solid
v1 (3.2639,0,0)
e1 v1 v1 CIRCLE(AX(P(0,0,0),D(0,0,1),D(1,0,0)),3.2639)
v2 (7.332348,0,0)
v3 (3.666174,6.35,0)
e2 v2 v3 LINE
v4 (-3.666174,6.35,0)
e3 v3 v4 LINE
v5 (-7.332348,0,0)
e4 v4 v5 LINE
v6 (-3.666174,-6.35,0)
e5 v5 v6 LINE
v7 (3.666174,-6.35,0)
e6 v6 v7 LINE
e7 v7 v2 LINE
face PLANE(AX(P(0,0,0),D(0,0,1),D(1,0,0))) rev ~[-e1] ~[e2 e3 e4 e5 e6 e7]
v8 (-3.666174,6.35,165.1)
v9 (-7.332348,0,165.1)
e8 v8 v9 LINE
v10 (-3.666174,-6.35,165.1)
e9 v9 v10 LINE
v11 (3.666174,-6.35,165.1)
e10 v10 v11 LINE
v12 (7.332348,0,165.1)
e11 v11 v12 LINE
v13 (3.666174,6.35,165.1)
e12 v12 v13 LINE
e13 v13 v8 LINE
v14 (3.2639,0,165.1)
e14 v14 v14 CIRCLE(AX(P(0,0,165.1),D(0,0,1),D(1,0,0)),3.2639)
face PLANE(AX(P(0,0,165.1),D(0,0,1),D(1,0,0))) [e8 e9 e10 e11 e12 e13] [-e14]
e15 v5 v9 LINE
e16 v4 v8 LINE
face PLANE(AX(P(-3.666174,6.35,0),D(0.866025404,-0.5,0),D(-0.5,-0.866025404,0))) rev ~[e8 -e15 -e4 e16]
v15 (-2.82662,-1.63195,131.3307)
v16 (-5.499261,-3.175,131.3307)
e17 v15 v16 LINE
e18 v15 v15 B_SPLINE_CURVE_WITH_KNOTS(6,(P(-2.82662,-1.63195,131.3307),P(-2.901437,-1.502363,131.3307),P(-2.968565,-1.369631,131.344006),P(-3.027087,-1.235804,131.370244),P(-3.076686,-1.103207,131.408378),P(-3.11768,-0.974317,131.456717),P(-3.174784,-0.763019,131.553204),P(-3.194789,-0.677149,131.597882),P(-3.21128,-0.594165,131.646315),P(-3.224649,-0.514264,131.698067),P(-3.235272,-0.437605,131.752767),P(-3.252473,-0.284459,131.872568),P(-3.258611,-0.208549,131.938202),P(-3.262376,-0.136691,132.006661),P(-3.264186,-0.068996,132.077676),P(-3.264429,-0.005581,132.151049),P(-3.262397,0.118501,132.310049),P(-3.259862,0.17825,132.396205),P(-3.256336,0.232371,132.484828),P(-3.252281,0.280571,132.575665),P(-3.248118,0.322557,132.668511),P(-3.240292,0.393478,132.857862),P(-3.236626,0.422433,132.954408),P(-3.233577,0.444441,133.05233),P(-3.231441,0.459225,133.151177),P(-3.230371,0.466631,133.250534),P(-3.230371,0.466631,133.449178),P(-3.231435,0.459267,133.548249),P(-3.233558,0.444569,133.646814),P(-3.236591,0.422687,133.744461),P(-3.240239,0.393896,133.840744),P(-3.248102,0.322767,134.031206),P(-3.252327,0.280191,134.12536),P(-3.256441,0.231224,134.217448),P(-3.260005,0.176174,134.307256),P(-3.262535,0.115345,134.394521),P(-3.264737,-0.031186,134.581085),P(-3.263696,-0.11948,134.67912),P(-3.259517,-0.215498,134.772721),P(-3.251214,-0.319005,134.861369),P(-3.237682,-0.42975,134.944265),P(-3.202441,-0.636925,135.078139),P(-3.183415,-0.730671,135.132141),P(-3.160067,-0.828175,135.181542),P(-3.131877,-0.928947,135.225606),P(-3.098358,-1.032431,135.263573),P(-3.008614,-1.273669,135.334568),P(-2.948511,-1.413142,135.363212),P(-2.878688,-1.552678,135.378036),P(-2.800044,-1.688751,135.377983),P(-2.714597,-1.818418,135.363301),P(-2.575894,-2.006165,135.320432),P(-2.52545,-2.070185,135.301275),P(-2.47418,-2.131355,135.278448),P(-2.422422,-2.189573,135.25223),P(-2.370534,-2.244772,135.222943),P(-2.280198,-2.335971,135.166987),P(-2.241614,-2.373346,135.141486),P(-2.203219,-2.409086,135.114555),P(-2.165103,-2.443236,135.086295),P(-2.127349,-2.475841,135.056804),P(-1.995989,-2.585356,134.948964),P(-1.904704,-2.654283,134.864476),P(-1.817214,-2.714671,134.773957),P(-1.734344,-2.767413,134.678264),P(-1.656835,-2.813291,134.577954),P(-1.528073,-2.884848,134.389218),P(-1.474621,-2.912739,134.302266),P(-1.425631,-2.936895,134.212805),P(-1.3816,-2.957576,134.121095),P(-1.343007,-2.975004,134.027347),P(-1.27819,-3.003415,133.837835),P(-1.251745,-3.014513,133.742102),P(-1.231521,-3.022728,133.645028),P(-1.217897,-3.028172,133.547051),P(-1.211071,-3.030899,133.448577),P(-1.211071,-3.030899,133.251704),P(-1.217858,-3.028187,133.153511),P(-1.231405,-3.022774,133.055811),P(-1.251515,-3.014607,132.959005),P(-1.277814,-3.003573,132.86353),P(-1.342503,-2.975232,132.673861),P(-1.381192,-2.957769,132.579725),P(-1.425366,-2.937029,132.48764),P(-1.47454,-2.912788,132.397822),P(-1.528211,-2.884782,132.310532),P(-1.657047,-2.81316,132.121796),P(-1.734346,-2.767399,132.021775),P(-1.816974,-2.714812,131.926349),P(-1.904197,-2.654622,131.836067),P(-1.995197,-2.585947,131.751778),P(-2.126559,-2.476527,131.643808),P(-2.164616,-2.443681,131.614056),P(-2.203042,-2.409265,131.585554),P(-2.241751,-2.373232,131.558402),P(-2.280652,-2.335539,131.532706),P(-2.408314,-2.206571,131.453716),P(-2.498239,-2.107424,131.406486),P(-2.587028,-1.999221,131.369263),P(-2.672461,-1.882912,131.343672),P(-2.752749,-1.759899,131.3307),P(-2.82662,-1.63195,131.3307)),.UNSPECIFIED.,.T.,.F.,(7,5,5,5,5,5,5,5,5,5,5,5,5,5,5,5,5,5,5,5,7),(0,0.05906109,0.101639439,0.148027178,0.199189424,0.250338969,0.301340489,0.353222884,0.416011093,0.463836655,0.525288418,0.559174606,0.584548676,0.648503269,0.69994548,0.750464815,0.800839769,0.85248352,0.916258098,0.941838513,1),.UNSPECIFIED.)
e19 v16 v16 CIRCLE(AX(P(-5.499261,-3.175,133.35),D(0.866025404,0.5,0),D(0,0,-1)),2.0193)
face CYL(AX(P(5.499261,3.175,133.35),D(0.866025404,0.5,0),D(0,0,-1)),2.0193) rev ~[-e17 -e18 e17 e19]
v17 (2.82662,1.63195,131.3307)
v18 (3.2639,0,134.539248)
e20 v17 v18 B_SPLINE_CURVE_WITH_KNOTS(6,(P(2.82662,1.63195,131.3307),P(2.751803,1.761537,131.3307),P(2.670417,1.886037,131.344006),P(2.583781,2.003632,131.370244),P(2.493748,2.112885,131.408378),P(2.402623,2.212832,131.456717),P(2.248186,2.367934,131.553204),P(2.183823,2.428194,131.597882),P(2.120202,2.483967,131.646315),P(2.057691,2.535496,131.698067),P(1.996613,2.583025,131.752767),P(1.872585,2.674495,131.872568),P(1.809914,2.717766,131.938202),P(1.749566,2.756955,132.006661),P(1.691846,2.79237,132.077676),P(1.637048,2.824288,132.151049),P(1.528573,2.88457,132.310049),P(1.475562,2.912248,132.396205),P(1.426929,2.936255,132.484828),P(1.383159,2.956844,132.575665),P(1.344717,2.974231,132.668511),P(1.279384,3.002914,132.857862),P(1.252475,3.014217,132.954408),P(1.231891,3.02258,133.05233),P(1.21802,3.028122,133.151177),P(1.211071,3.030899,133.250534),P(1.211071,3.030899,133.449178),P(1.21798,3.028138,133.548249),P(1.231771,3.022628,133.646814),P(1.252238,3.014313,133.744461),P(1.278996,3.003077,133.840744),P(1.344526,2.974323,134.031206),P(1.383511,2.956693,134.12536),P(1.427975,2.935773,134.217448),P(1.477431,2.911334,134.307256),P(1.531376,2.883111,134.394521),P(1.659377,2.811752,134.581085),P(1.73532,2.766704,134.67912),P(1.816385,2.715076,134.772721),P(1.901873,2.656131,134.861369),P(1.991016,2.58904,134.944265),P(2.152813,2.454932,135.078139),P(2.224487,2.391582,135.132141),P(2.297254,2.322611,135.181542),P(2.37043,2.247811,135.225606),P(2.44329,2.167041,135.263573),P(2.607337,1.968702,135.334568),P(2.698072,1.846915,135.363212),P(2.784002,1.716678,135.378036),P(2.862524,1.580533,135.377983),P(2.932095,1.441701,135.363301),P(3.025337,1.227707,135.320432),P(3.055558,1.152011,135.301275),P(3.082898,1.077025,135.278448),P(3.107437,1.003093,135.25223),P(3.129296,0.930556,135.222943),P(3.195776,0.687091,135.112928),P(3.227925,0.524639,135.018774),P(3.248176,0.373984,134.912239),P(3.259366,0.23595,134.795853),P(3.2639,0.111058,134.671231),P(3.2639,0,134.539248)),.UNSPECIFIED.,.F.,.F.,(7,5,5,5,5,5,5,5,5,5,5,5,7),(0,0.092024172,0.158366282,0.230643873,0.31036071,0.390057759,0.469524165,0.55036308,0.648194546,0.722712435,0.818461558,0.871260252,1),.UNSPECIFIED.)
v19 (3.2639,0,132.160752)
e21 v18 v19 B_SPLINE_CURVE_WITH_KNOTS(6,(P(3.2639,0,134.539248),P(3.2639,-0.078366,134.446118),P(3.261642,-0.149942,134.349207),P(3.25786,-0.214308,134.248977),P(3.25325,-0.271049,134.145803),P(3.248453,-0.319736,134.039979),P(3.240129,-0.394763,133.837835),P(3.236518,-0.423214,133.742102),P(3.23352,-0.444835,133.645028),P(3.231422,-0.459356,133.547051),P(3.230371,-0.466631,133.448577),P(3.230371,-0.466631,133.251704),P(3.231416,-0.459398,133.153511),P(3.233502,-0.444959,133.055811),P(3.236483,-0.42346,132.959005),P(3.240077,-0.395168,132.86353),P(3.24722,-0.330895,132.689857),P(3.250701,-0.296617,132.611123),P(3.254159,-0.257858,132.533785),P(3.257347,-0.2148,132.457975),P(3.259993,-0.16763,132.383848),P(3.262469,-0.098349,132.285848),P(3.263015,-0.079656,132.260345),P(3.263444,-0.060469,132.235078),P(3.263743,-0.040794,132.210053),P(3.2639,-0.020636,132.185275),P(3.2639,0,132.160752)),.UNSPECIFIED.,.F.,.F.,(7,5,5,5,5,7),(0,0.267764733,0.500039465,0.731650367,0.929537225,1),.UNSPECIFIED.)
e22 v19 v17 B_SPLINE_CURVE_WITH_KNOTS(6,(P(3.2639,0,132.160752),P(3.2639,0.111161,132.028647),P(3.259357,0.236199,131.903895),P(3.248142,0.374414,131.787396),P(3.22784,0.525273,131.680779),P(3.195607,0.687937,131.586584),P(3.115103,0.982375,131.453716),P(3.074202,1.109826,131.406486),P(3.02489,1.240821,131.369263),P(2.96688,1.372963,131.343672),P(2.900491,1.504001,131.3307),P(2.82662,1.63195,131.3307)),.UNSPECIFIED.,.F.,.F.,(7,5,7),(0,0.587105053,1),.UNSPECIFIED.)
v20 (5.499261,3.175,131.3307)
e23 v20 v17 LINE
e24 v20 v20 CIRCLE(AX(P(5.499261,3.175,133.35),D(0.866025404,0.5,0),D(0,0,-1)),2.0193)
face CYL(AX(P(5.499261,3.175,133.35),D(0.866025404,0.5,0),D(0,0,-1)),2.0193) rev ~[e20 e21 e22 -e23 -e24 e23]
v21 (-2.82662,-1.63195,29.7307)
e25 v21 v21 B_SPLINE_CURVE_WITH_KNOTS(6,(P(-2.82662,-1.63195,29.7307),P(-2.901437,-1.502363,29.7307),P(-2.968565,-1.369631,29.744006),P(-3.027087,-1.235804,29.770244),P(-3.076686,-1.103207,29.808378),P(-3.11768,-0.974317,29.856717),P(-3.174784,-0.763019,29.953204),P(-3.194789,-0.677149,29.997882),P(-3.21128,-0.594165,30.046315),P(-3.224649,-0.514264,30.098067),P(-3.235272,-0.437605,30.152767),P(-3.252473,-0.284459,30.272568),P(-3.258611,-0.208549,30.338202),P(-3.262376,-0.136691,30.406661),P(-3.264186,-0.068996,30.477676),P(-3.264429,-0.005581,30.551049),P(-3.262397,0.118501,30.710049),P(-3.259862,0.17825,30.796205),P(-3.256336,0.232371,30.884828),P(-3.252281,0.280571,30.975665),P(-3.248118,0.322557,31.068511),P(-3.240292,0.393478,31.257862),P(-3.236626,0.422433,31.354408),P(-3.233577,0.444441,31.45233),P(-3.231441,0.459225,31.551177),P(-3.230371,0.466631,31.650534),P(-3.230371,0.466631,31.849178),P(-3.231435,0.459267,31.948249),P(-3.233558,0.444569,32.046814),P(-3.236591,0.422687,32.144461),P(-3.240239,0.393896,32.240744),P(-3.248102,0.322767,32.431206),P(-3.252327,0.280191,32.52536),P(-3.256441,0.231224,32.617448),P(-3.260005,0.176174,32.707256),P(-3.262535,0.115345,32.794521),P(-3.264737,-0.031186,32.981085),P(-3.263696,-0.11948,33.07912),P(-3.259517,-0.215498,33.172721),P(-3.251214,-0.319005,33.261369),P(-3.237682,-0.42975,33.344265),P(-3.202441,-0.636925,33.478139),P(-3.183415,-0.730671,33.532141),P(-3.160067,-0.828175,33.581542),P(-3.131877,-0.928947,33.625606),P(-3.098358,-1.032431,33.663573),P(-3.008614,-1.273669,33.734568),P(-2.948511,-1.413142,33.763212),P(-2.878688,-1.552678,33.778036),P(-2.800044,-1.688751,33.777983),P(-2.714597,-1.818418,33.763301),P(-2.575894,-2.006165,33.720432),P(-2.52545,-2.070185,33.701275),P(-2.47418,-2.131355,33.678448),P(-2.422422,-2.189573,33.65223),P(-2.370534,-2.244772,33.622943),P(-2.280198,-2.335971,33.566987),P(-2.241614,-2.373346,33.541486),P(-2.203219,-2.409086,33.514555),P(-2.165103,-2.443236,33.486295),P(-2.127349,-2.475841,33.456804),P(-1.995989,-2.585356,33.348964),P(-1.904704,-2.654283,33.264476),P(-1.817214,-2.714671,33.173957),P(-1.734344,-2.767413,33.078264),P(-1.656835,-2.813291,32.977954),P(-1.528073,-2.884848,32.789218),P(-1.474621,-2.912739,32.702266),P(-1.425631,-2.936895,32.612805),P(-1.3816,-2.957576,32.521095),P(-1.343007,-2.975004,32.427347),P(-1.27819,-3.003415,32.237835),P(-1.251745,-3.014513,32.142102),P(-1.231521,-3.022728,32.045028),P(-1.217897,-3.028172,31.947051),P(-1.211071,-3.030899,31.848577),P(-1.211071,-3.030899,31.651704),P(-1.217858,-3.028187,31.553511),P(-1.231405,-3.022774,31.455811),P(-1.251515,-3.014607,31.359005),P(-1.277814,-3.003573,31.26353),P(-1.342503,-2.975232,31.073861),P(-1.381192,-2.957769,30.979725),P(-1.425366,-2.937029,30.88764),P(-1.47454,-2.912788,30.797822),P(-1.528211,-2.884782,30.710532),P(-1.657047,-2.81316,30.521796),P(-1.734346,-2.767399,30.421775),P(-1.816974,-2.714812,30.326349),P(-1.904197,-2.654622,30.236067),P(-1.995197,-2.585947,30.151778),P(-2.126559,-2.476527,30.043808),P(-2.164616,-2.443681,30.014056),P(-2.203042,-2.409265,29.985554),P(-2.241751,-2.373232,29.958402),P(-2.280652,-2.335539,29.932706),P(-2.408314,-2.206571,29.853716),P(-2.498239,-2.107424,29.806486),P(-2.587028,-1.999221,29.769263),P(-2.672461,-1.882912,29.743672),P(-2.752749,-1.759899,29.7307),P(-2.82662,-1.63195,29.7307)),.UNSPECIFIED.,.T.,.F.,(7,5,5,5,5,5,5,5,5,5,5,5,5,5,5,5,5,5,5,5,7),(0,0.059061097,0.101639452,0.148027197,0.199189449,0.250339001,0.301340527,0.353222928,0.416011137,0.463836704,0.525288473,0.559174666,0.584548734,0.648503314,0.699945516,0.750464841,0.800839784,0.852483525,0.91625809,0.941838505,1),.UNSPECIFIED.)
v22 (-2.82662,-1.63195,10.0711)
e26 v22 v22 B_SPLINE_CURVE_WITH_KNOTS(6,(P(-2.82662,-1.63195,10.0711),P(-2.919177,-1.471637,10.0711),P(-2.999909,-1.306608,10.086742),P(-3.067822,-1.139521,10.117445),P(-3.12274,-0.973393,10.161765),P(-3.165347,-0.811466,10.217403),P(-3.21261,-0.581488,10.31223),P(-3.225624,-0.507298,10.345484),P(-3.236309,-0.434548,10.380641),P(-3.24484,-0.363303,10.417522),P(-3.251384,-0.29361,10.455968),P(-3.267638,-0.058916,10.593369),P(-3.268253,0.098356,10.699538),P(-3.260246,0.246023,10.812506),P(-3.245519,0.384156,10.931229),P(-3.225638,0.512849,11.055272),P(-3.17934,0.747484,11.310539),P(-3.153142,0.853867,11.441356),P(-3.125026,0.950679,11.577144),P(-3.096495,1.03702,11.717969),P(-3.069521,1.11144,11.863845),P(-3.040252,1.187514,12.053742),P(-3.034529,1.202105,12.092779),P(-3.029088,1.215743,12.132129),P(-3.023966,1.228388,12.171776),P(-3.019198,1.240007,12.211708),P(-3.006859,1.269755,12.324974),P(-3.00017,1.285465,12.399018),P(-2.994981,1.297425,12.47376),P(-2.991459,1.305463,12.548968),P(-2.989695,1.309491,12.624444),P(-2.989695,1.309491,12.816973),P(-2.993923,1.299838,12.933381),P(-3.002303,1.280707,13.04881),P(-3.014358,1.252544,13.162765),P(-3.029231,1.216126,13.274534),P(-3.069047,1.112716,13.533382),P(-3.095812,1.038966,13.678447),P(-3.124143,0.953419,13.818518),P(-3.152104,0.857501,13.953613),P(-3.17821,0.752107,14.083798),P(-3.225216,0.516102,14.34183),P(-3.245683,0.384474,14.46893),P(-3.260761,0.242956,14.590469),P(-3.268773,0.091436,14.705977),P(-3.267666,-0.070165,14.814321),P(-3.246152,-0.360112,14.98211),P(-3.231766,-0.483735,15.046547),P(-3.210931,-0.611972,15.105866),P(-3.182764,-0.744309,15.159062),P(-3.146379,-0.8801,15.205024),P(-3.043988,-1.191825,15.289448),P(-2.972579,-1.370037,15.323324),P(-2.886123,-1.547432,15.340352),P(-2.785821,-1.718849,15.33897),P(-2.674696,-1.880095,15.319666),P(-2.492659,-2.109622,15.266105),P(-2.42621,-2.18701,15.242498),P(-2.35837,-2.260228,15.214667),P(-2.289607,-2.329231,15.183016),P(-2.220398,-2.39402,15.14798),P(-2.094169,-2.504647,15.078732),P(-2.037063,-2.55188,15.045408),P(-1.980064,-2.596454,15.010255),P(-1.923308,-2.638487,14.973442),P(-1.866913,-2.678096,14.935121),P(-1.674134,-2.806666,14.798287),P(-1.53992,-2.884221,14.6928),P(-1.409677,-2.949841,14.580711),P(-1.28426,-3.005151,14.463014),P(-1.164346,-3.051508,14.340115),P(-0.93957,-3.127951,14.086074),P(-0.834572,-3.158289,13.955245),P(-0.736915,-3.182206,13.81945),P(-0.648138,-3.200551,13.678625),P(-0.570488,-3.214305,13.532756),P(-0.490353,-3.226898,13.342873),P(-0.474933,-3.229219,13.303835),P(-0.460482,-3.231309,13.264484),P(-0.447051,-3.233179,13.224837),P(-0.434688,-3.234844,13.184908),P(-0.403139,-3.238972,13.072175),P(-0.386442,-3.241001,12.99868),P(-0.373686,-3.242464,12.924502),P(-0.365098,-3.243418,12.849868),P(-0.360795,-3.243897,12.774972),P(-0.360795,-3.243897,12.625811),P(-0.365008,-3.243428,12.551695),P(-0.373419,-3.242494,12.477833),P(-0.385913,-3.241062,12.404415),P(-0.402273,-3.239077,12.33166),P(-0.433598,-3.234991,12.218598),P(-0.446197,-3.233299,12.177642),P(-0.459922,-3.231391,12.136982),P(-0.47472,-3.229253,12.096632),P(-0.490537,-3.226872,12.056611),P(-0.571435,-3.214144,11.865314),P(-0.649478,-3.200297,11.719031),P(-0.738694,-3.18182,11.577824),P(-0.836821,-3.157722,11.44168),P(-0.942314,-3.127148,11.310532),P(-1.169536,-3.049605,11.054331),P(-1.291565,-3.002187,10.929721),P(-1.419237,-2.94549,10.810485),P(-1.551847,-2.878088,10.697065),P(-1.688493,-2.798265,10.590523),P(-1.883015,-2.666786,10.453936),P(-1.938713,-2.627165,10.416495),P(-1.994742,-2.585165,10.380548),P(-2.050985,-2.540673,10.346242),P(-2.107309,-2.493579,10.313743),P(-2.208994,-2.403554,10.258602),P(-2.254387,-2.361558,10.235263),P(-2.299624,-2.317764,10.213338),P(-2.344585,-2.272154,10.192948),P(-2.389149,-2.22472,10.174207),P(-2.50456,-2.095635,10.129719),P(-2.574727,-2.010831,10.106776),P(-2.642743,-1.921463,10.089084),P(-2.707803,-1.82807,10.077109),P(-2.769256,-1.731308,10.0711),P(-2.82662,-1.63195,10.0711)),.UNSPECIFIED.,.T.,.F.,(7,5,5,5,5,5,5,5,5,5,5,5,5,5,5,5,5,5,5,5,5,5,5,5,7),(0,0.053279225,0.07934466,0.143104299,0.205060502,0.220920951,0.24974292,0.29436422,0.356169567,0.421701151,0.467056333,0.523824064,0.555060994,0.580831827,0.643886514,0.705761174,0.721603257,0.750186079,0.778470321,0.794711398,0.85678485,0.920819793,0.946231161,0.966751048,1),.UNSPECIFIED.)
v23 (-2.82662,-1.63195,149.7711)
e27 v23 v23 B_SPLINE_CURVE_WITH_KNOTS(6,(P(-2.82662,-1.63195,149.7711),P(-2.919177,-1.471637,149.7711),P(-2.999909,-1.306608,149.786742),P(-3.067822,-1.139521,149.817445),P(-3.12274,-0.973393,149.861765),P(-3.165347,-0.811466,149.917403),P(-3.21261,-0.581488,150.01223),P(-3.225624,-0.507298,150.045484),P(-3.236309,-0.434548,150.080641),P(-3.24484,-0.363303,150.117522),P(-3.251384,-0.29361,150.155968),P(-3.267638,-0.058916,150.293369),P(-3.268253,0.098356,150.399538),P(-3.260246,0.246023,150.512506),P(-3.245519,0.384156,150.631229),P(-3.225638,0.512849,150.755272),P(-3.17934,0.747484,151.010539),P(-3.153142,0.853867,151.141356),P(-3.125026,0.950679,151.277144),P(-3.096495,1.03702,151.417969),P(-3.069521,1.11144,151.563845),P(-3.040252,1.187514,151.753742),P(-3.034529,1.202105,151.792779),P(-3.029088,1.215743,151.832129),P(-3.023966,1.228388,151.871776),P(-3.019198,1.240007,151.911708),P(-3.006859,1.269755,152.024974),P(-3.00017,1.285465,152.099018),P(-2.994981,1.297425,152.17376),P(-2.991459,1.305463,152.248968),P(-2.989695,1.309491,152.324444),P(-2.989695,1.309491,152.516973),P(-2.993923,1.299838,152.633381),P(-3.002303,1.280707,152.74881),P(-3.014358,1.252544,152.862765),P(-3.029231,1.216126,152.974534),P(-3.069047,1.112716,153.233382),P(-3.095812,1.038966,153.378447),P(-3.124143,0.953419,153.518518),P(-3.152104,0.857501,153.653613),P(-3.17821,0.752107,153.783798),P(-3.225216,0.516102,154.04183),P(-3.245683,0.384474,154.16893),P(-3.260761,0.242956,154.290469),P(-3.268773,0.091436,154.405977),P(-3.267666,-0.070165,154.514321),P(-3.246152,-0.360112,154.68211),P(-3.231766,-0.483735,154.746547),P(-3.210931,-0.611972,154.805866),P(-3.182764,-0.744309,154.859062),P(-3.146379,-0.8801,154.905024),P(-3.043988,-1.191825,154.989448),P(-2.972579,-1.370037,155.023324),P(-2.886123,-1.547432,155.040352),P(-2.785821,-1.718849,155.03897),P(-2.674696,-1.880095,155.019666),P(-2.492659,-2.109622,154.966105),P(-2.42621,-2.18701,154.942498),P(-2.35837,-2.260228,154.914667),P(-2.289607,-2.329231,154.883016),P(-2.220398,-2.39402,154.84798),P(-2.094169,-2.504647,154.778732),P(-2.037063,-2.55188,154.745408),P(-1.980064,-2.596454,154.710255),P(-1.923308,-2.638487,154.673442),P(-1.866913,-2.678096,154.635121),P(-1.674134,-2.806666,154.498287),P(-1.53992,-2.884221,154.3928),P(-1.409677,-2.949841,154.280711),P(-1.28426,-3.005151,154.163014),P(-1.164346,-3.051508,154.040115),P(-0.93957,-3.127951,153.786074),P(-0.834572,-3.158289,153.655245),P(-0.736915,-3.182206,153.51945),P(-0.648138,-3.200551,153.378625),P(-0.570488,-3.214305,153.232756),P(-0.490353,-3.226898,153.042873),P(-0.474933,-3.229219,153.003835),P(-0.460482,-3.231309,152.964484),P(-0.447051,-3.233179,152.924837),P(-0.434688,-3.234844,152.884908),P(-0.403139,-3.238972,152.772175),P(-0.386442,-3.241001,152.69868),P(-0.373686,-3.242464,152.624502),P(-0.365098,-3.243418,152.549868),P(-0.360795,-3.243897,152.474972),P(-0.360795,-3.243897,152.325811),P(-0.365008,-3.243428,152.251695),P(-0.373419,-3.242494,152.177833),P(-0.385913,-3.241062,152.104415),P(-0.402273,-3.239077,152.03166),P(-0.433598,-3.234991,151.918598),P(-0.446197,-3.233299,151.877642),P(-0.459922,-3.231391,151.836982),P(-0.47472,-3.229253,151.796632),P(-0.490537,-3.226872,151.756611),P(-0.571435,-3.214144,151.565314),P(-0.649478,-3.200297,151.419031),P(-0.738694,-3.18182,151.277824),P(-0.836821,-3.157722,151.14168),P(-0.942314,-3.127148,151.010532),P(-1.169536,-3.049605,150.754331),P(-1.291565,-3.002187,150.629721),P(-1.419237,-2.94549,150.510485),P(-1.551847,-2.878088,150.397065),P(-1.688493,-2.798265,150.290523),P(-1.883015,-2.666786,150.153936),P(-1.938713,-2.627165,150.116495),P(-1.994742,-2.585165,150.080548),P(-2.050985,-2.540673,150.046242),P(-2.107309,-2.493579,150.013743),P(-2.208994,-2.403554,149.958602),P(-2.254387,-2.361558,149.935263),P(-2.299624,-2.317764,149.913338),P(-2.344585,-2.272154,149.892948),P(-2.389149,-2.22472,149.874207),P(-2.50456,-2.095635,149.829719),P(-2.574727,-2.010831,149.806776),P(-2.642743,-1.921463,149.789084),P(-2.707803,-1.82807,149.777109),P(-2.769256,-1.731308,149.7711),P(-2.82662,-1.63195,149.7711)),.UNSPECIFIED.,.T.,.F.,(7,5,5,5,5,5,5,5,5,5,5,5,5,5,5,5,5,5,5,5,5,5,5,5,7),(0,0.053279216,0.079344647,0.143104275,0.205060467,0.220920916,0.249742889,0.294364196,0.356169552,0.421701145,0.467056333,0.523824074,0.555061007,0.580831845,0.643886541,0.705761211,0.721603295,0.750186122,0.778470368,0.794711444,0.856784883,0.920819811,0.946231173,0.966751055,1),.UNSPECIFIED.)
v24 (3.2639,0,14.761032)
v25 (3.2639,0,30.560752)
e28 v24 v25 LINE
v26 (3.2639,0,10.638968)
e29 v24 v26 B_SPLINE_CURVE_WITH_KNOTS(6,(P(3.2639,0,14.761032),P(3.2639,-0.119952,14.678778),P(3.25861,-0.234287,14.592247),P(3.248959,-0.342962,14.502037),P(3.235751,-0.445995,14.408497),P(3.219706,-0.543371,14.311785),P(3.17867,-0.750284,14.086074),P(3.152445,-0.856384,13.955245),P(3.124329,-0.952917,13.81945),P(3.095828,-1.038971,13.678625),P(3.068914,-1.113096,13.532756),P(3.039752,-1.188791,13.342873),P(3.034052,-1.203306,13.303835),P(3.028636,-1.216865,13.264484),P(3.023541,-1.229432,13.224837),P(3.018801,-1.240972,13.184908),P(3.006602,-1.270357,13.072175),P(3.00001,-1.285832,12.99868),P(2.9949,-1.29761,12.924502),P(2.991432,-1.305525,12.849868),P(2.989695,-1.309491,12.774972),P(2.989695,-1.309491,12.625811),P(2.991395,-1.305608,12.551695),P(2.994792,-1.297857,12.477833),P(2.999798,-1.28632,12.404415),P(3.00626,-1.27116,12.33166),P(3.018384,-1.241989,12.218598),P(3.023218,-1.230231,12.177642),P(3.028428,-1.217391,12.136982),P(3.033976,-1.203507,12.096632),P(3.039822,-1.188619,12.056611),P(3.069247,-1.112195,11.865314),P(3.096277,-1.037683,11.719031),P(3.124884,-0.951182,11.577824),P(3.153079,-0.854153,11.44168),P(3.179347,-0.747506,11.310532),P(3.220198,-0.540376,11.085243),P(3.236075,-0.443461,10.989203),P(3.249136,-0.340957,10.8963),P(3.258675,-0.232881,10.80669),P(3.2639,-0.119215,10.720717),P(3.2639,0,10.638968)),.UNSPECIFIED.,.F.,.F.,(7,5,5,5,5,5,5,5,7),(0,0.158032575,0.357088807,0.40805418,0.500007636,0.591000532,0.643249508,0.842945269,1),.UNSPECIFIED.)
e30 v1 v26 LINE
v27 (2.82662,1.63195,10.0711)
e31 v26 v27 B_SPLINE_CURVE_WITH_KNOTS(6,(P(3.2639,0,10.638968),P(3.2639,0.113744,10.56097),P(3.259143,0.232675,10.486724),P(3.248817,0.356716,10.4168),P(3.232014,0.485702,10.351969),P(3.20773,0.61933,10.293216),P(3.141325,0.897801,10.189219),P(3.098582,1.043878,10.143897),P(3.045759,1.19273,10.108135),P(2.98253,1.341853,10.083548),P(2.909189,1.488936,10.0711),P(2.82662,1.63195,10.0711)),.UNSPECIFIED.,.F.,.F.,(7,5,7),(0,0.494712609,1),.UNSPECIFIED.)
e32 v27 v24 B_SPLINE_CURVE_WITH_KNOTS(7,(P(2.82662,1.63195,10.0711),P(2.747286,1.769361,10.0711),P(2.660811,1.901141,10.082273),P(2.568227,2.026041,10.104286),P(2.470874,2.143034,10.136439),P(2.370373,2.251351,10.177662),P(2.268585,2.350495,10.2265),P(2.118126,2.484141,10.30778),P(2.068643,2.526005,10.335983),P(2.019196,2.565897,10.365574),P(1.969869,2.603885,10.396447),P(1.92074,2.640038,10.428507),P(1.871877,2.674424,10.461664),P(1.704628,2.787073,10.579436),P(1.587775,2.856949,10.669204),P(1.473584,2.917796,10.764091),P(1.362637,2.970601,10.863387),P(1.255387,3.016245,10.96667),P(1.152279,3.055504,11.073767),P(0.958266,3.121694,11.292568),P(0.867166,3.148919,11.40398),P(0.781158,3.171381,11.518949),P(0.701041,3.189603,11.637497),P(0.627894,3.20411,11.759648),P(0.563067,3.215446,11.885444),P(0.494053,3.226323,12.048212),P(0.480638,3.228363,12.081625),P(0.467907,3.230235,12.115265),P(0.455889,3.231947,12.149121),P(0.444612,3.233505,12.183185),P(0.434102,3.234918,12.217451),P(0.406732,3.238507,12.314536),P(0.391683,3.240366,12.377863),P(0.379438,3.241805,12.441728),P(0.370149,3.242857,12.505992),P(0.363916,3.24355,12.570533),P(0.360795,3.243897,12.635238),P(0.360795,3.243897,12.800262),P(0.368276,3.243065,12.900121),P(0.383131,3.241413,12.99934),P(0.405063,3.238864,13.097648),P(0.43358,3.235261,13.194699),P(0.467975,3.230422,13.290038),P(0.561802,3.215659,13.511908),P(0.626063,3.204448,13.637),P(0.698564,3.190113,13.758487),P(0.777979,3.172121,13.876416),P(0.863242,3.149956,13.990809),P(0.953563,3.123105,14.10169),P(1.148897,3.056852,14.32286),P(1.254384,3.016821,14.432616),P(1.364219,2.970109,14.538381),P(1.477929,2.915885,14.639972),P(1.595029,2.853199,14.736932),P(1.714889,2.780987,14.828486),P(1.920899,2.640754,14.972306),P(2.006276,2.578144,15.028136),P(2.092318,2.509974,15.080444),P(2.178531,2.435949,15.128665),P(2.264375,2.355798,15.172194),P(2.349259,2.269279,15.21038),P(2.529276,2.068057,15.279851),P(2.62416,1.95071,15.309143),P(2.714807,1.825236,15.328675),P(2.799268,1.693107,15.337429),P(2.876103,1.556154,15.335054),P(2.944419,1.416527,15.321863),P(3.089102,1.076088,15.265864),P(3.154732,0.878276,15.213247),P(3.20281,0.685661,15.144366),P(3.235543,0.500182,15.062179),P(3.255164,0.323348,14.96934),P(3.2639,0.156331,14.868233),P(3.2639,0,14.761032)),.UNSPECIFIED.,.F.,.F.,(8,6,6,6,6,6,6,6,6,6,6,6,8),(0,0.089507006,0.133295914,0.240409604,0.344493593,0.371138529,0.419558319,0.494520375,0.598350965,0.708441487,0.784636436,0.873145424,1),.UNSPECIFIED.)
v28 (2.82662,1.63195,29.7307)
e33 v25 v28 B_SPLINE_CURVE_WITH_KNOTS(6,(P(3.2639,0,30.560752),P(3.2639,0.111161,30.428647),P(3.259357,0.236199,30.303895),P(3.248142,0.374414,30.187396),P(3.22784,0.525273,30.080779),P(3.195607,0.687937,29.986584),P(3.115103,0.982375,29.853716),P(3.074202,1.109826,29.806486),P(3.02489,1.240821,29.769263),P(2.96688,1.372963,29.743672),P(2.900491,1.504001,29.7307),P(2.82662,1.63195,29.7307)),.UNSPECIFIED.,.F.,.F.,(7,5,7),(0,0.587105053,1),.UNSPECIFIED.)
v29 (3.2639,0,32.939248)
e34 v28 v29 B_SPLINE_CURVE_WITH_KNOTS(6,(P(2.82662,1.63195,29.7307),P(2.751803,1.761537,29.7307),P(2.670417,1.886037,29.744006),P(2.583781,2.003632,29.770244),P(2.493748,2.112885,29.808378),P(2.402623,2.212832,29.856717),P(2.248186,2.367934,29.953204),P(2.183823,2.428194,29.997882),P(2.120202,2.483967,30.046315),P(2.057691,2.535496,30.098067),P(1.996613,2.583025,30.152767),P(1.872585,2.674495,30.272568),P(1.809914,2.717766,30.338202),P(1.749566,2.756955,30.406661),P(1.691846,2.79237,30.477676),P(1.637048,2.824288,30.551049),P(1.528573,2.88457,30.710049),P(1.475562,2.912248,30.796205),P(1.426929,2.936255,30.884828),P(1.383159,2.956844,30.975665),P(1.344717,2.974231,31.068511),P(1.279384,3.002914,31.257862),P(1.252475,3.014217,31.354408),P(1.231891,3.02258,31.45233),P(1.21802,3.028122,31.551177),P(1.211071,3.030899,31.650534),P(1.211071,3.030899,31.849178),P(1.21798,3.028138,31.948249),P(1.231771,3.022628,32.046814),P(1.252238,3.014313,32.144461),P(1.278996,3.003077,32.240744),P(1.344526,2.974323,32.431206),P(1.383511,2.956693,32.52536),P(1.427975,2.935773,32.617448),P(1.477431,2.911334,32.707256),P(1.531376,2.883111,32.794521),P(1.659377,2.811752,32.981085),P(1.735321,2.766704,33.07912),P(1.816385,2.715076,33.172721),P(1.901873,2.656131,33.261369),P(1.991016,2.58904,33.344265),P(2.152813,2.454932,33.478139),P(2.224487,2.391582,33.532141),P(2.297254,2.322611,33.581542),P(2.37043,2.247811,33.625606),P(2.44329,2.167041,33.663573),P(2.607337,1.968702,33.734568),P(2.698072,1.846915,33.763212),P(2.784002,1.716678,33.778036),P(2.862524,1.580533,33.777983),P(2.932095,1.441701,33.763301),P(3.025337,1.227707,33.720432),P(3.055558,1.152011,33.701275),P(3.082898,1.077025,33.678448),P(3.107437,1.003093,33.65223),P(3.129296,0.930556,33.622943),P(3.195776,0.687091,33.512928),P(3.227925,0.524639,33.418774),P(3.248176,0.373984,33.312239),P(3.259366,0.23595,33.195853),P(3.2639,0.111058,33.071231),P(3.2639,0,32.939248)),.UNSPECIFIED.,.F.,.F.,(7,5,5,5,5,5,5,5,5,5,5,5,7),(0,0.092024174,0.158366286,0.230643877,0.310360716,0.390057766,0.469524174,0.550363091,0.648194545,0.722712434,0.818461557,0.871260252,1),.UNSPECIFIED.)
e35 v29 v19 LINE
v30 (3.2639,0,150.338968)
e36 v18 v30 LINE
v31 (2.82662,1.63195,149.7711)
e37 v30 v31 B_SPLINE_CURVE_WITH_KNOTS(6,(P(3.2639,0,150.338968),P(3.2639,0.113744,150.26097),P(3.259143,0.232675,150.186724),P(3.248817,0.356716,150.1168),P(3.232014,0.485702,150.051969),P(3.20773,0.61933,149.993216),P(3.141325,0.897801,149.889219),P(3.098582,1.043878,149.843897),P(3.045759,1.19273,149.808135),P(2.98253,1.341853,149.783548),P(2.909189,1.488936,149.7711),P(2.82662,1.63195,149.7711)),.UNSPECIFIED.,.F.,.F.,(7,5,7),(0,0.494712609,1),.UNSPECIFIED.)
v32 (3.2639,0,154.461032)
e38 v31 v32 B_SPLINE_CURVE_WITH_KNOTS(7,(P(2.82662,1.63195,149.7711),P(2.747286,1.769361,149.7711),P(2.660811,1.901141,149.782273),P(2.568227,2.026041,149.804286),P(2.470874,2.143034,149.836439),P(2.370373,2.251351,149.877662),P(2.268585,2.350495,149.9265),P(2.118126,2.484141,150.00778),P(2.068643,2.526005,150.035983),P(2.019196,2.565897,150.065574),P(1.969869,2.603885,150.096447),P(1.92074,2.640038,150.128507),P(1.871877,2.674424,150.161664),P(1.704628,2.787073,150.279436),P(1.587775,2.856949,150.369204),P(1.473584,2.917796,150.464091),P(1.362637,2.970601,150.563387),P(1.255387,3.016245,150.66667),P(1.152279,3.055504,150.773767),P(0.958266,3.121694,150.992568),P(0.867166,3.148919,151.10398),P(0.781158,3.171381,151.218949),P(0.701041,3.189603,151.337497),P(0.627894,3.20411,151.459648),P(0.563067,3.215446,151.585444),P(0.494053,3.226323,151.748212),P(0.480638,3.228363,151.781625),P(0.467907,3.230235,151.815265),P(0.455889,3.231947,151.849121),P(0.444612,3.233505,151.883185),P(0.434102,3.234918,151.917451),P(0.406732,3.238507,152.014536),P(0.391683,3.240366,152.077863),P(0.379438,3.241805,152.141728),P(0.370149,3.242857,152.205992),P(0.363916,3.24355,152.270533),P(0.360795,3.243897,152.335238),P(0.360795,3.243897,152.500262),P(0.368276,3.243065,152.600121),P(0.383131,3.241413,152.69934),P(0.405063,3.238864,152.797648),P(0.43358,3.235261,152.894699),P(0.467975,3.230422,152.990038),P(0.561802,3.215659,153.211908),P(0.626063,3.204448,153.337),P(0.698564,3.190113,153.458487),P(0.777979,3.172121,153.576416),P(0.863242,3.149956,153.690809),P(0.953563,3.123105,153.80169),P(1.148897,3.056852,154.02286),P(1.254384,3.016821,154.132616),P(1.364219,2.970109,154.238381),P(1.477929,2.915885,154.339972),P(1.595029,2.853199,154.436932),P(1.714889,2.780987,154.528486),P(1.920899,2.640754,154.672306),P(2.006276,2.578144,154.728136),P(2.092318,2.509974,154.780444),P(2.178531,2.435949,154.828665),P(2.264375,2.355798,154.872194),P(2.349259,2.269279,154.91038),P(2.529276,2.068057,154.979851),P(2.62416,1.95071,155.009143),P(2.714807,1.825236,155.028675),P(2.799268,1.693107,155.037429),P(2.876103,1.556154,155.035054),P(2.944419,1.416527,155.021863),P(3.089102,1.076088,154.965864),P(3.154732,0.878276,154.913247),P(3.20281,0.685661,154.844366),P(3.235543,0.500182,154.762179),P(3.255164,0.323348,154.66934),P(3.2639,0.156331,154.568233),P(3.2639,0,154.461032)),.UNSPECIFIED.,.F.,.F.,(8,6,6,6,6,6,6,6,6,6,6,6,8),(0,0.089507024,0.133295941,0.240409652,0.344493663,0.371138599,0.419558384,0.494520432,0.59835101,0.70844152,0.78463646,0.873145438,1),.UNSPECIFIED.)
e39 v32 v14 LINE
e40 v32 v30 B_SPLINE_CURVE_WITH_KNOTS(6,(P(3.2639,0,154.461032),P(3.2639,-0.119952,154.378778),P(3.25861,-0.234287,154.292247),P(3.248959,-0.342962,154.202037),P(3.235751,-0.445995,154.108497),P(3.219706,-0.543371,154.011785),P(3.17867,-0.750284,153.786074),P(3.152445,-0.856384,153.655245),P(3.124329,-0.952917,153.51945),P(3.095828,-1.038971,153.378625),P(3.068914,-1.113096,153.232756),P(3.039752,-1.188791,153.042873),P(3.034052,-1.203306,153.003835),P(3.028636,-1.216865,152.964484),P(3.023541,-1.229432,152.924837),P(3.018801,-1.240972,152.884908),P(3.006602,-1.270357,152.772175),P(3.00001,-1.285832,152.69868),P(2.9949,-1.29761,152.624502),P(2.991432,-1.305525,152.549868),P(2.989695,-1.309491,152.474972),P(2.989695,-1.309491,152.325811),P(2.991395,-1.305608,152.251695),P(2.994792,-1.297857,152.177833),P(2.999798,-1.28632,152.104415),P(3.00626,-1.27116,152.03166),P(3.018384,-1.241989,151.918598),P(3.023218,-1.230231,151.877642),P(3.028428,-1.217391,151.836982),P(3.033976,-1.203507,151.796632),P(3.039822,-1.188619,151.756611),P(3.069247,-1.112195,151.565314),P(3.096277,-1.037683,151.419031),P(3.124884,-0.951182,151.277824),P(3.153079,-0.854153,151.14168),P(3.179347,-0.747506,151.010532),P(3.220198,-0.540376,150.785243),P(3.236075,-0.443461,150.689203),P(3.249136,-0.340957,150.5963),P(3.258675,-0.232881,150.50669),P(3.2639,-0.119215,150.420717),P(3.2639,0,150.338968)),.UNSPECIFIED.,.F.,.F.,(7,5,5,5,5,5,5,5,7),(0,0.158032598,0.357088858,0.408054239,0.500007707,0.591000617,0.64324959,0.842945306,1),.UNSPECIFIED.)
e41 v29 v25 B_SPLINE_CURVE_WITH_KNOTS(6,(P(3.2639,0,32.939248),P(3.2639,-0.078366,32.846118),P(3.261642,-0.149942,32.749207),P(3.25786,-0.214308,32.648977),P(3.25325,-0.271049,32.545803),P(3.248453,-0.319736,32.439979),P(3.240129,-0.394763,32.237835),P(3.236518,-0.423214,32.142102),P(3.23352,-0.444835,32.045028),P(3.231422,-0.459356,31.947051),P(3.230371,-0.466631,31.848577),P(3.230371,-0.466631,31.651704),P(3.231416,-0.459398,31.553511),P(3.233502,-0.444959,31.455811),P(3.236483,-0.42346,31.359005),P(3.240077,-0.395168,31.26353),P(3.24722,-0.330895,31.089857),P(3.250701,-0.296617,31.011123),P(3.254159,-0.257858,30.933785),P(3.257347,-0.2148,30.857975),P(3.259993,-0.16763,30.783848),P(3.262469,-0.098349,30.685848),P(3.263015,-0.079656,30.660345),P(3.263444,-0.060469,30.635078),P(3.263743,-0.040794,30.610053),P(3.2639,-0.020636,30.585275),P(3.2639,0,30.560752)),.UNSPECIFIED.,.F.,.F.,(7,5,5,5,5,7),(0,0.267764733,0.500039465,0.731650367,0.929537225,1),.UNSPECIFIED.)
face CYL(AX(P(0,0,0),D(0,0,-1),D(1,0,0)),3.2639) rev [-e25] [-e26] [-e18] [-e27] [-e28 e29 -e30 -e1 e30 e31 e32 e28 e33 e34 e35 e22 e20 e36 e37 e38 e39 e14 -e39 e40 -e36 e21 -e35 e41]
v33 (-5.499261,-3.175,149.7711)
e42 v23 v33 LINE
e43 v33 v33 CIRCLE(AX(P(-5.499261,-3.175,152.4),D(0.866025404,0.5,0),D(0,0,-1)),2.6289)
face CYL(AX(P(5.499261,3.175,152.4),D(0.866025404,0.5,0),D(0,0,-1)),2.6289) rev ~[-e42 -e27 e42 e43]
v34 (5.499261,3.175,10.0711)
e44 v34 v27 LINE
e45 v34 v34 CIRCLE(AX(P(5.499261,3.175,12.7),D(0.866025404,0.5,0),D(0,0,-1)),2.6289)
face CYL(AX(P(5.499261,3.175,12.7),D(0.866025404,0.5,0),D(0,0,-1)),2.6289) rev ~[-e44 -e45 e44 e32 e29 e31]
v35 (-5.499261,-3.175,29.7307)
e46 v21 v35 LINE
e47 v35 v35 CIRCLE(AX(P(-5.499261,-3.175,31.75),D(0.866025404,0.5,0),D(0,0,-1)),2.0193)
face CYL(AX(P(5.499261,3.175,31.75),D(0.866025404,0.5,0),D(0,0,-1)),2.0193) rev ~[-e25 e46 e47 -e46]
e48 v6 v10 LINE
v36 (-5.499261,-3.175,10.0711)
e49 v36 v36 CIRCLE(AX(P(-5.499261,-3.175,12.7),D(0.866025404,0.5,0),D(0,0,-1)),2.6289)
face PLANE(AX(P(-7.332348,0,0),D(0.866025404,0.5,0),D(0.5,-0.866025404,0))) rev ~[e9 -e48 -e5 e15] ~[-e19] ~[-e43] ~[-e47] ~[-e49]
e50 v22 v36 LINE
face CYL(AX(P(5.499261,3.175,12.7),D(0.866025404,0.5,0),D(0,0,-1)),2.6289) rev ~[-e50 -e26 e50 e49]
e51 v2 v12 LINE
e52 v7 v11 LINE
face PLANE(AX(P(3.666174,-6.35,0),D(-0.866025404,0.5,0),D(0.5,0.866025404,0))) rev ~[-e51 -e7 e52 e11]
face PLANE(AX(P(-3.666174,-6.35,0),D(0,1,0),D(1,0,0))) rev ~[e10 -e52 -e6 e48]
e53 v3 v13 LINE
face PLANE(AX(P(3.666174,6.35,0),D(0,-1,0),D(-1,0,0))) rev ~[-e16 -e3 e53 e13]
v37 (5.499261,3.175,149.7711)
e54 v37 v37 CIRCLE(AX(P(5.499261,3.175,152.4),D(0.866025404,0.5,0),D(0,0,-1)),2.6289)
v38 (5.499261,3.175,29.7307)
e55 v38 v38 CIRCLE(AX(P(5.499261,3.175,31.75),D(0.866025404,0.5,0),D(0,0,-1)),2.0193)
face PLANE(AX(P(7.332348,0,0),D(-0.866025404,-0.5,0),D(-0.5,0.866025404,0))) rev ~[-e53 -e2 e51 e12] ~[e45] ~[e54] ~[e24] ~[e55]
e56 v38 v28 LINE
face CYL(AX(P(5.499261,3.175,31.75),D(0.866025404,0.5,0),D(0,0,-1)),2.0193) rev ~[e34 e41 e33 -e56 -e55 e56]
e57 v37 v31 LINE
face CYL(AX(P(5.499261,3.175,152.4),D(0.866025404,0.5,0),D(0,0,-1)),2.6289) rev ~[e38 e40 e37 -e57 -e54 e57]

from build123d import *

# Parameters (mm, degrees)
SKETCH1_R           = 3.2639
BOSS_EXTRUDE1_DEPTH = 165.1
SKETCH2_R           = 2.0193
SKETCH2_R_2         = 2.6289
CUT_EXTRUDE1_DEPTH  = 16.875


with BuildPart() as part:
    # Sketch1 → Boss-Extrude1 (new body)
    with BuildSketch(Plane.XY):
        Polygon((-3.666174209, 6.35), (-7.332348419, 0), (-3.666174209, -6.35), (3.666174209, -6.35), (7.332348419, 0), (3.666174209, 6.35), align=None)
        Circle(SKETCH1_R, mode=Mode.SUBTRACT)
    extrude(amount=BOSS_EXTRUDE1_DEPTH)

    # Sketch2 → Cut-Extrude1 (cut, through all)
    with BuildSketch(Plane(origin=(5.499261314, 3.175, 0), x_dir=(0, 0, -1), z_dir=(0.866025404, 0.5, 0))):
        with Locations((-31.75, 0)):
            Circle(SKETCH2_R)
        with Locations((-133.35, 0)):
            Circle(SKETCH2_R)
        with Locations((-12.7, 0)):
            Circle(SKETCH2_R_2)
        with Locations((-152.4, 0)):
            Circle(SKETCH2_R_2)
    extrude(amount=-CUT_EXTRUDE1_DEPTH, mode=Mode.SUBTRACT)


solid = part.part
